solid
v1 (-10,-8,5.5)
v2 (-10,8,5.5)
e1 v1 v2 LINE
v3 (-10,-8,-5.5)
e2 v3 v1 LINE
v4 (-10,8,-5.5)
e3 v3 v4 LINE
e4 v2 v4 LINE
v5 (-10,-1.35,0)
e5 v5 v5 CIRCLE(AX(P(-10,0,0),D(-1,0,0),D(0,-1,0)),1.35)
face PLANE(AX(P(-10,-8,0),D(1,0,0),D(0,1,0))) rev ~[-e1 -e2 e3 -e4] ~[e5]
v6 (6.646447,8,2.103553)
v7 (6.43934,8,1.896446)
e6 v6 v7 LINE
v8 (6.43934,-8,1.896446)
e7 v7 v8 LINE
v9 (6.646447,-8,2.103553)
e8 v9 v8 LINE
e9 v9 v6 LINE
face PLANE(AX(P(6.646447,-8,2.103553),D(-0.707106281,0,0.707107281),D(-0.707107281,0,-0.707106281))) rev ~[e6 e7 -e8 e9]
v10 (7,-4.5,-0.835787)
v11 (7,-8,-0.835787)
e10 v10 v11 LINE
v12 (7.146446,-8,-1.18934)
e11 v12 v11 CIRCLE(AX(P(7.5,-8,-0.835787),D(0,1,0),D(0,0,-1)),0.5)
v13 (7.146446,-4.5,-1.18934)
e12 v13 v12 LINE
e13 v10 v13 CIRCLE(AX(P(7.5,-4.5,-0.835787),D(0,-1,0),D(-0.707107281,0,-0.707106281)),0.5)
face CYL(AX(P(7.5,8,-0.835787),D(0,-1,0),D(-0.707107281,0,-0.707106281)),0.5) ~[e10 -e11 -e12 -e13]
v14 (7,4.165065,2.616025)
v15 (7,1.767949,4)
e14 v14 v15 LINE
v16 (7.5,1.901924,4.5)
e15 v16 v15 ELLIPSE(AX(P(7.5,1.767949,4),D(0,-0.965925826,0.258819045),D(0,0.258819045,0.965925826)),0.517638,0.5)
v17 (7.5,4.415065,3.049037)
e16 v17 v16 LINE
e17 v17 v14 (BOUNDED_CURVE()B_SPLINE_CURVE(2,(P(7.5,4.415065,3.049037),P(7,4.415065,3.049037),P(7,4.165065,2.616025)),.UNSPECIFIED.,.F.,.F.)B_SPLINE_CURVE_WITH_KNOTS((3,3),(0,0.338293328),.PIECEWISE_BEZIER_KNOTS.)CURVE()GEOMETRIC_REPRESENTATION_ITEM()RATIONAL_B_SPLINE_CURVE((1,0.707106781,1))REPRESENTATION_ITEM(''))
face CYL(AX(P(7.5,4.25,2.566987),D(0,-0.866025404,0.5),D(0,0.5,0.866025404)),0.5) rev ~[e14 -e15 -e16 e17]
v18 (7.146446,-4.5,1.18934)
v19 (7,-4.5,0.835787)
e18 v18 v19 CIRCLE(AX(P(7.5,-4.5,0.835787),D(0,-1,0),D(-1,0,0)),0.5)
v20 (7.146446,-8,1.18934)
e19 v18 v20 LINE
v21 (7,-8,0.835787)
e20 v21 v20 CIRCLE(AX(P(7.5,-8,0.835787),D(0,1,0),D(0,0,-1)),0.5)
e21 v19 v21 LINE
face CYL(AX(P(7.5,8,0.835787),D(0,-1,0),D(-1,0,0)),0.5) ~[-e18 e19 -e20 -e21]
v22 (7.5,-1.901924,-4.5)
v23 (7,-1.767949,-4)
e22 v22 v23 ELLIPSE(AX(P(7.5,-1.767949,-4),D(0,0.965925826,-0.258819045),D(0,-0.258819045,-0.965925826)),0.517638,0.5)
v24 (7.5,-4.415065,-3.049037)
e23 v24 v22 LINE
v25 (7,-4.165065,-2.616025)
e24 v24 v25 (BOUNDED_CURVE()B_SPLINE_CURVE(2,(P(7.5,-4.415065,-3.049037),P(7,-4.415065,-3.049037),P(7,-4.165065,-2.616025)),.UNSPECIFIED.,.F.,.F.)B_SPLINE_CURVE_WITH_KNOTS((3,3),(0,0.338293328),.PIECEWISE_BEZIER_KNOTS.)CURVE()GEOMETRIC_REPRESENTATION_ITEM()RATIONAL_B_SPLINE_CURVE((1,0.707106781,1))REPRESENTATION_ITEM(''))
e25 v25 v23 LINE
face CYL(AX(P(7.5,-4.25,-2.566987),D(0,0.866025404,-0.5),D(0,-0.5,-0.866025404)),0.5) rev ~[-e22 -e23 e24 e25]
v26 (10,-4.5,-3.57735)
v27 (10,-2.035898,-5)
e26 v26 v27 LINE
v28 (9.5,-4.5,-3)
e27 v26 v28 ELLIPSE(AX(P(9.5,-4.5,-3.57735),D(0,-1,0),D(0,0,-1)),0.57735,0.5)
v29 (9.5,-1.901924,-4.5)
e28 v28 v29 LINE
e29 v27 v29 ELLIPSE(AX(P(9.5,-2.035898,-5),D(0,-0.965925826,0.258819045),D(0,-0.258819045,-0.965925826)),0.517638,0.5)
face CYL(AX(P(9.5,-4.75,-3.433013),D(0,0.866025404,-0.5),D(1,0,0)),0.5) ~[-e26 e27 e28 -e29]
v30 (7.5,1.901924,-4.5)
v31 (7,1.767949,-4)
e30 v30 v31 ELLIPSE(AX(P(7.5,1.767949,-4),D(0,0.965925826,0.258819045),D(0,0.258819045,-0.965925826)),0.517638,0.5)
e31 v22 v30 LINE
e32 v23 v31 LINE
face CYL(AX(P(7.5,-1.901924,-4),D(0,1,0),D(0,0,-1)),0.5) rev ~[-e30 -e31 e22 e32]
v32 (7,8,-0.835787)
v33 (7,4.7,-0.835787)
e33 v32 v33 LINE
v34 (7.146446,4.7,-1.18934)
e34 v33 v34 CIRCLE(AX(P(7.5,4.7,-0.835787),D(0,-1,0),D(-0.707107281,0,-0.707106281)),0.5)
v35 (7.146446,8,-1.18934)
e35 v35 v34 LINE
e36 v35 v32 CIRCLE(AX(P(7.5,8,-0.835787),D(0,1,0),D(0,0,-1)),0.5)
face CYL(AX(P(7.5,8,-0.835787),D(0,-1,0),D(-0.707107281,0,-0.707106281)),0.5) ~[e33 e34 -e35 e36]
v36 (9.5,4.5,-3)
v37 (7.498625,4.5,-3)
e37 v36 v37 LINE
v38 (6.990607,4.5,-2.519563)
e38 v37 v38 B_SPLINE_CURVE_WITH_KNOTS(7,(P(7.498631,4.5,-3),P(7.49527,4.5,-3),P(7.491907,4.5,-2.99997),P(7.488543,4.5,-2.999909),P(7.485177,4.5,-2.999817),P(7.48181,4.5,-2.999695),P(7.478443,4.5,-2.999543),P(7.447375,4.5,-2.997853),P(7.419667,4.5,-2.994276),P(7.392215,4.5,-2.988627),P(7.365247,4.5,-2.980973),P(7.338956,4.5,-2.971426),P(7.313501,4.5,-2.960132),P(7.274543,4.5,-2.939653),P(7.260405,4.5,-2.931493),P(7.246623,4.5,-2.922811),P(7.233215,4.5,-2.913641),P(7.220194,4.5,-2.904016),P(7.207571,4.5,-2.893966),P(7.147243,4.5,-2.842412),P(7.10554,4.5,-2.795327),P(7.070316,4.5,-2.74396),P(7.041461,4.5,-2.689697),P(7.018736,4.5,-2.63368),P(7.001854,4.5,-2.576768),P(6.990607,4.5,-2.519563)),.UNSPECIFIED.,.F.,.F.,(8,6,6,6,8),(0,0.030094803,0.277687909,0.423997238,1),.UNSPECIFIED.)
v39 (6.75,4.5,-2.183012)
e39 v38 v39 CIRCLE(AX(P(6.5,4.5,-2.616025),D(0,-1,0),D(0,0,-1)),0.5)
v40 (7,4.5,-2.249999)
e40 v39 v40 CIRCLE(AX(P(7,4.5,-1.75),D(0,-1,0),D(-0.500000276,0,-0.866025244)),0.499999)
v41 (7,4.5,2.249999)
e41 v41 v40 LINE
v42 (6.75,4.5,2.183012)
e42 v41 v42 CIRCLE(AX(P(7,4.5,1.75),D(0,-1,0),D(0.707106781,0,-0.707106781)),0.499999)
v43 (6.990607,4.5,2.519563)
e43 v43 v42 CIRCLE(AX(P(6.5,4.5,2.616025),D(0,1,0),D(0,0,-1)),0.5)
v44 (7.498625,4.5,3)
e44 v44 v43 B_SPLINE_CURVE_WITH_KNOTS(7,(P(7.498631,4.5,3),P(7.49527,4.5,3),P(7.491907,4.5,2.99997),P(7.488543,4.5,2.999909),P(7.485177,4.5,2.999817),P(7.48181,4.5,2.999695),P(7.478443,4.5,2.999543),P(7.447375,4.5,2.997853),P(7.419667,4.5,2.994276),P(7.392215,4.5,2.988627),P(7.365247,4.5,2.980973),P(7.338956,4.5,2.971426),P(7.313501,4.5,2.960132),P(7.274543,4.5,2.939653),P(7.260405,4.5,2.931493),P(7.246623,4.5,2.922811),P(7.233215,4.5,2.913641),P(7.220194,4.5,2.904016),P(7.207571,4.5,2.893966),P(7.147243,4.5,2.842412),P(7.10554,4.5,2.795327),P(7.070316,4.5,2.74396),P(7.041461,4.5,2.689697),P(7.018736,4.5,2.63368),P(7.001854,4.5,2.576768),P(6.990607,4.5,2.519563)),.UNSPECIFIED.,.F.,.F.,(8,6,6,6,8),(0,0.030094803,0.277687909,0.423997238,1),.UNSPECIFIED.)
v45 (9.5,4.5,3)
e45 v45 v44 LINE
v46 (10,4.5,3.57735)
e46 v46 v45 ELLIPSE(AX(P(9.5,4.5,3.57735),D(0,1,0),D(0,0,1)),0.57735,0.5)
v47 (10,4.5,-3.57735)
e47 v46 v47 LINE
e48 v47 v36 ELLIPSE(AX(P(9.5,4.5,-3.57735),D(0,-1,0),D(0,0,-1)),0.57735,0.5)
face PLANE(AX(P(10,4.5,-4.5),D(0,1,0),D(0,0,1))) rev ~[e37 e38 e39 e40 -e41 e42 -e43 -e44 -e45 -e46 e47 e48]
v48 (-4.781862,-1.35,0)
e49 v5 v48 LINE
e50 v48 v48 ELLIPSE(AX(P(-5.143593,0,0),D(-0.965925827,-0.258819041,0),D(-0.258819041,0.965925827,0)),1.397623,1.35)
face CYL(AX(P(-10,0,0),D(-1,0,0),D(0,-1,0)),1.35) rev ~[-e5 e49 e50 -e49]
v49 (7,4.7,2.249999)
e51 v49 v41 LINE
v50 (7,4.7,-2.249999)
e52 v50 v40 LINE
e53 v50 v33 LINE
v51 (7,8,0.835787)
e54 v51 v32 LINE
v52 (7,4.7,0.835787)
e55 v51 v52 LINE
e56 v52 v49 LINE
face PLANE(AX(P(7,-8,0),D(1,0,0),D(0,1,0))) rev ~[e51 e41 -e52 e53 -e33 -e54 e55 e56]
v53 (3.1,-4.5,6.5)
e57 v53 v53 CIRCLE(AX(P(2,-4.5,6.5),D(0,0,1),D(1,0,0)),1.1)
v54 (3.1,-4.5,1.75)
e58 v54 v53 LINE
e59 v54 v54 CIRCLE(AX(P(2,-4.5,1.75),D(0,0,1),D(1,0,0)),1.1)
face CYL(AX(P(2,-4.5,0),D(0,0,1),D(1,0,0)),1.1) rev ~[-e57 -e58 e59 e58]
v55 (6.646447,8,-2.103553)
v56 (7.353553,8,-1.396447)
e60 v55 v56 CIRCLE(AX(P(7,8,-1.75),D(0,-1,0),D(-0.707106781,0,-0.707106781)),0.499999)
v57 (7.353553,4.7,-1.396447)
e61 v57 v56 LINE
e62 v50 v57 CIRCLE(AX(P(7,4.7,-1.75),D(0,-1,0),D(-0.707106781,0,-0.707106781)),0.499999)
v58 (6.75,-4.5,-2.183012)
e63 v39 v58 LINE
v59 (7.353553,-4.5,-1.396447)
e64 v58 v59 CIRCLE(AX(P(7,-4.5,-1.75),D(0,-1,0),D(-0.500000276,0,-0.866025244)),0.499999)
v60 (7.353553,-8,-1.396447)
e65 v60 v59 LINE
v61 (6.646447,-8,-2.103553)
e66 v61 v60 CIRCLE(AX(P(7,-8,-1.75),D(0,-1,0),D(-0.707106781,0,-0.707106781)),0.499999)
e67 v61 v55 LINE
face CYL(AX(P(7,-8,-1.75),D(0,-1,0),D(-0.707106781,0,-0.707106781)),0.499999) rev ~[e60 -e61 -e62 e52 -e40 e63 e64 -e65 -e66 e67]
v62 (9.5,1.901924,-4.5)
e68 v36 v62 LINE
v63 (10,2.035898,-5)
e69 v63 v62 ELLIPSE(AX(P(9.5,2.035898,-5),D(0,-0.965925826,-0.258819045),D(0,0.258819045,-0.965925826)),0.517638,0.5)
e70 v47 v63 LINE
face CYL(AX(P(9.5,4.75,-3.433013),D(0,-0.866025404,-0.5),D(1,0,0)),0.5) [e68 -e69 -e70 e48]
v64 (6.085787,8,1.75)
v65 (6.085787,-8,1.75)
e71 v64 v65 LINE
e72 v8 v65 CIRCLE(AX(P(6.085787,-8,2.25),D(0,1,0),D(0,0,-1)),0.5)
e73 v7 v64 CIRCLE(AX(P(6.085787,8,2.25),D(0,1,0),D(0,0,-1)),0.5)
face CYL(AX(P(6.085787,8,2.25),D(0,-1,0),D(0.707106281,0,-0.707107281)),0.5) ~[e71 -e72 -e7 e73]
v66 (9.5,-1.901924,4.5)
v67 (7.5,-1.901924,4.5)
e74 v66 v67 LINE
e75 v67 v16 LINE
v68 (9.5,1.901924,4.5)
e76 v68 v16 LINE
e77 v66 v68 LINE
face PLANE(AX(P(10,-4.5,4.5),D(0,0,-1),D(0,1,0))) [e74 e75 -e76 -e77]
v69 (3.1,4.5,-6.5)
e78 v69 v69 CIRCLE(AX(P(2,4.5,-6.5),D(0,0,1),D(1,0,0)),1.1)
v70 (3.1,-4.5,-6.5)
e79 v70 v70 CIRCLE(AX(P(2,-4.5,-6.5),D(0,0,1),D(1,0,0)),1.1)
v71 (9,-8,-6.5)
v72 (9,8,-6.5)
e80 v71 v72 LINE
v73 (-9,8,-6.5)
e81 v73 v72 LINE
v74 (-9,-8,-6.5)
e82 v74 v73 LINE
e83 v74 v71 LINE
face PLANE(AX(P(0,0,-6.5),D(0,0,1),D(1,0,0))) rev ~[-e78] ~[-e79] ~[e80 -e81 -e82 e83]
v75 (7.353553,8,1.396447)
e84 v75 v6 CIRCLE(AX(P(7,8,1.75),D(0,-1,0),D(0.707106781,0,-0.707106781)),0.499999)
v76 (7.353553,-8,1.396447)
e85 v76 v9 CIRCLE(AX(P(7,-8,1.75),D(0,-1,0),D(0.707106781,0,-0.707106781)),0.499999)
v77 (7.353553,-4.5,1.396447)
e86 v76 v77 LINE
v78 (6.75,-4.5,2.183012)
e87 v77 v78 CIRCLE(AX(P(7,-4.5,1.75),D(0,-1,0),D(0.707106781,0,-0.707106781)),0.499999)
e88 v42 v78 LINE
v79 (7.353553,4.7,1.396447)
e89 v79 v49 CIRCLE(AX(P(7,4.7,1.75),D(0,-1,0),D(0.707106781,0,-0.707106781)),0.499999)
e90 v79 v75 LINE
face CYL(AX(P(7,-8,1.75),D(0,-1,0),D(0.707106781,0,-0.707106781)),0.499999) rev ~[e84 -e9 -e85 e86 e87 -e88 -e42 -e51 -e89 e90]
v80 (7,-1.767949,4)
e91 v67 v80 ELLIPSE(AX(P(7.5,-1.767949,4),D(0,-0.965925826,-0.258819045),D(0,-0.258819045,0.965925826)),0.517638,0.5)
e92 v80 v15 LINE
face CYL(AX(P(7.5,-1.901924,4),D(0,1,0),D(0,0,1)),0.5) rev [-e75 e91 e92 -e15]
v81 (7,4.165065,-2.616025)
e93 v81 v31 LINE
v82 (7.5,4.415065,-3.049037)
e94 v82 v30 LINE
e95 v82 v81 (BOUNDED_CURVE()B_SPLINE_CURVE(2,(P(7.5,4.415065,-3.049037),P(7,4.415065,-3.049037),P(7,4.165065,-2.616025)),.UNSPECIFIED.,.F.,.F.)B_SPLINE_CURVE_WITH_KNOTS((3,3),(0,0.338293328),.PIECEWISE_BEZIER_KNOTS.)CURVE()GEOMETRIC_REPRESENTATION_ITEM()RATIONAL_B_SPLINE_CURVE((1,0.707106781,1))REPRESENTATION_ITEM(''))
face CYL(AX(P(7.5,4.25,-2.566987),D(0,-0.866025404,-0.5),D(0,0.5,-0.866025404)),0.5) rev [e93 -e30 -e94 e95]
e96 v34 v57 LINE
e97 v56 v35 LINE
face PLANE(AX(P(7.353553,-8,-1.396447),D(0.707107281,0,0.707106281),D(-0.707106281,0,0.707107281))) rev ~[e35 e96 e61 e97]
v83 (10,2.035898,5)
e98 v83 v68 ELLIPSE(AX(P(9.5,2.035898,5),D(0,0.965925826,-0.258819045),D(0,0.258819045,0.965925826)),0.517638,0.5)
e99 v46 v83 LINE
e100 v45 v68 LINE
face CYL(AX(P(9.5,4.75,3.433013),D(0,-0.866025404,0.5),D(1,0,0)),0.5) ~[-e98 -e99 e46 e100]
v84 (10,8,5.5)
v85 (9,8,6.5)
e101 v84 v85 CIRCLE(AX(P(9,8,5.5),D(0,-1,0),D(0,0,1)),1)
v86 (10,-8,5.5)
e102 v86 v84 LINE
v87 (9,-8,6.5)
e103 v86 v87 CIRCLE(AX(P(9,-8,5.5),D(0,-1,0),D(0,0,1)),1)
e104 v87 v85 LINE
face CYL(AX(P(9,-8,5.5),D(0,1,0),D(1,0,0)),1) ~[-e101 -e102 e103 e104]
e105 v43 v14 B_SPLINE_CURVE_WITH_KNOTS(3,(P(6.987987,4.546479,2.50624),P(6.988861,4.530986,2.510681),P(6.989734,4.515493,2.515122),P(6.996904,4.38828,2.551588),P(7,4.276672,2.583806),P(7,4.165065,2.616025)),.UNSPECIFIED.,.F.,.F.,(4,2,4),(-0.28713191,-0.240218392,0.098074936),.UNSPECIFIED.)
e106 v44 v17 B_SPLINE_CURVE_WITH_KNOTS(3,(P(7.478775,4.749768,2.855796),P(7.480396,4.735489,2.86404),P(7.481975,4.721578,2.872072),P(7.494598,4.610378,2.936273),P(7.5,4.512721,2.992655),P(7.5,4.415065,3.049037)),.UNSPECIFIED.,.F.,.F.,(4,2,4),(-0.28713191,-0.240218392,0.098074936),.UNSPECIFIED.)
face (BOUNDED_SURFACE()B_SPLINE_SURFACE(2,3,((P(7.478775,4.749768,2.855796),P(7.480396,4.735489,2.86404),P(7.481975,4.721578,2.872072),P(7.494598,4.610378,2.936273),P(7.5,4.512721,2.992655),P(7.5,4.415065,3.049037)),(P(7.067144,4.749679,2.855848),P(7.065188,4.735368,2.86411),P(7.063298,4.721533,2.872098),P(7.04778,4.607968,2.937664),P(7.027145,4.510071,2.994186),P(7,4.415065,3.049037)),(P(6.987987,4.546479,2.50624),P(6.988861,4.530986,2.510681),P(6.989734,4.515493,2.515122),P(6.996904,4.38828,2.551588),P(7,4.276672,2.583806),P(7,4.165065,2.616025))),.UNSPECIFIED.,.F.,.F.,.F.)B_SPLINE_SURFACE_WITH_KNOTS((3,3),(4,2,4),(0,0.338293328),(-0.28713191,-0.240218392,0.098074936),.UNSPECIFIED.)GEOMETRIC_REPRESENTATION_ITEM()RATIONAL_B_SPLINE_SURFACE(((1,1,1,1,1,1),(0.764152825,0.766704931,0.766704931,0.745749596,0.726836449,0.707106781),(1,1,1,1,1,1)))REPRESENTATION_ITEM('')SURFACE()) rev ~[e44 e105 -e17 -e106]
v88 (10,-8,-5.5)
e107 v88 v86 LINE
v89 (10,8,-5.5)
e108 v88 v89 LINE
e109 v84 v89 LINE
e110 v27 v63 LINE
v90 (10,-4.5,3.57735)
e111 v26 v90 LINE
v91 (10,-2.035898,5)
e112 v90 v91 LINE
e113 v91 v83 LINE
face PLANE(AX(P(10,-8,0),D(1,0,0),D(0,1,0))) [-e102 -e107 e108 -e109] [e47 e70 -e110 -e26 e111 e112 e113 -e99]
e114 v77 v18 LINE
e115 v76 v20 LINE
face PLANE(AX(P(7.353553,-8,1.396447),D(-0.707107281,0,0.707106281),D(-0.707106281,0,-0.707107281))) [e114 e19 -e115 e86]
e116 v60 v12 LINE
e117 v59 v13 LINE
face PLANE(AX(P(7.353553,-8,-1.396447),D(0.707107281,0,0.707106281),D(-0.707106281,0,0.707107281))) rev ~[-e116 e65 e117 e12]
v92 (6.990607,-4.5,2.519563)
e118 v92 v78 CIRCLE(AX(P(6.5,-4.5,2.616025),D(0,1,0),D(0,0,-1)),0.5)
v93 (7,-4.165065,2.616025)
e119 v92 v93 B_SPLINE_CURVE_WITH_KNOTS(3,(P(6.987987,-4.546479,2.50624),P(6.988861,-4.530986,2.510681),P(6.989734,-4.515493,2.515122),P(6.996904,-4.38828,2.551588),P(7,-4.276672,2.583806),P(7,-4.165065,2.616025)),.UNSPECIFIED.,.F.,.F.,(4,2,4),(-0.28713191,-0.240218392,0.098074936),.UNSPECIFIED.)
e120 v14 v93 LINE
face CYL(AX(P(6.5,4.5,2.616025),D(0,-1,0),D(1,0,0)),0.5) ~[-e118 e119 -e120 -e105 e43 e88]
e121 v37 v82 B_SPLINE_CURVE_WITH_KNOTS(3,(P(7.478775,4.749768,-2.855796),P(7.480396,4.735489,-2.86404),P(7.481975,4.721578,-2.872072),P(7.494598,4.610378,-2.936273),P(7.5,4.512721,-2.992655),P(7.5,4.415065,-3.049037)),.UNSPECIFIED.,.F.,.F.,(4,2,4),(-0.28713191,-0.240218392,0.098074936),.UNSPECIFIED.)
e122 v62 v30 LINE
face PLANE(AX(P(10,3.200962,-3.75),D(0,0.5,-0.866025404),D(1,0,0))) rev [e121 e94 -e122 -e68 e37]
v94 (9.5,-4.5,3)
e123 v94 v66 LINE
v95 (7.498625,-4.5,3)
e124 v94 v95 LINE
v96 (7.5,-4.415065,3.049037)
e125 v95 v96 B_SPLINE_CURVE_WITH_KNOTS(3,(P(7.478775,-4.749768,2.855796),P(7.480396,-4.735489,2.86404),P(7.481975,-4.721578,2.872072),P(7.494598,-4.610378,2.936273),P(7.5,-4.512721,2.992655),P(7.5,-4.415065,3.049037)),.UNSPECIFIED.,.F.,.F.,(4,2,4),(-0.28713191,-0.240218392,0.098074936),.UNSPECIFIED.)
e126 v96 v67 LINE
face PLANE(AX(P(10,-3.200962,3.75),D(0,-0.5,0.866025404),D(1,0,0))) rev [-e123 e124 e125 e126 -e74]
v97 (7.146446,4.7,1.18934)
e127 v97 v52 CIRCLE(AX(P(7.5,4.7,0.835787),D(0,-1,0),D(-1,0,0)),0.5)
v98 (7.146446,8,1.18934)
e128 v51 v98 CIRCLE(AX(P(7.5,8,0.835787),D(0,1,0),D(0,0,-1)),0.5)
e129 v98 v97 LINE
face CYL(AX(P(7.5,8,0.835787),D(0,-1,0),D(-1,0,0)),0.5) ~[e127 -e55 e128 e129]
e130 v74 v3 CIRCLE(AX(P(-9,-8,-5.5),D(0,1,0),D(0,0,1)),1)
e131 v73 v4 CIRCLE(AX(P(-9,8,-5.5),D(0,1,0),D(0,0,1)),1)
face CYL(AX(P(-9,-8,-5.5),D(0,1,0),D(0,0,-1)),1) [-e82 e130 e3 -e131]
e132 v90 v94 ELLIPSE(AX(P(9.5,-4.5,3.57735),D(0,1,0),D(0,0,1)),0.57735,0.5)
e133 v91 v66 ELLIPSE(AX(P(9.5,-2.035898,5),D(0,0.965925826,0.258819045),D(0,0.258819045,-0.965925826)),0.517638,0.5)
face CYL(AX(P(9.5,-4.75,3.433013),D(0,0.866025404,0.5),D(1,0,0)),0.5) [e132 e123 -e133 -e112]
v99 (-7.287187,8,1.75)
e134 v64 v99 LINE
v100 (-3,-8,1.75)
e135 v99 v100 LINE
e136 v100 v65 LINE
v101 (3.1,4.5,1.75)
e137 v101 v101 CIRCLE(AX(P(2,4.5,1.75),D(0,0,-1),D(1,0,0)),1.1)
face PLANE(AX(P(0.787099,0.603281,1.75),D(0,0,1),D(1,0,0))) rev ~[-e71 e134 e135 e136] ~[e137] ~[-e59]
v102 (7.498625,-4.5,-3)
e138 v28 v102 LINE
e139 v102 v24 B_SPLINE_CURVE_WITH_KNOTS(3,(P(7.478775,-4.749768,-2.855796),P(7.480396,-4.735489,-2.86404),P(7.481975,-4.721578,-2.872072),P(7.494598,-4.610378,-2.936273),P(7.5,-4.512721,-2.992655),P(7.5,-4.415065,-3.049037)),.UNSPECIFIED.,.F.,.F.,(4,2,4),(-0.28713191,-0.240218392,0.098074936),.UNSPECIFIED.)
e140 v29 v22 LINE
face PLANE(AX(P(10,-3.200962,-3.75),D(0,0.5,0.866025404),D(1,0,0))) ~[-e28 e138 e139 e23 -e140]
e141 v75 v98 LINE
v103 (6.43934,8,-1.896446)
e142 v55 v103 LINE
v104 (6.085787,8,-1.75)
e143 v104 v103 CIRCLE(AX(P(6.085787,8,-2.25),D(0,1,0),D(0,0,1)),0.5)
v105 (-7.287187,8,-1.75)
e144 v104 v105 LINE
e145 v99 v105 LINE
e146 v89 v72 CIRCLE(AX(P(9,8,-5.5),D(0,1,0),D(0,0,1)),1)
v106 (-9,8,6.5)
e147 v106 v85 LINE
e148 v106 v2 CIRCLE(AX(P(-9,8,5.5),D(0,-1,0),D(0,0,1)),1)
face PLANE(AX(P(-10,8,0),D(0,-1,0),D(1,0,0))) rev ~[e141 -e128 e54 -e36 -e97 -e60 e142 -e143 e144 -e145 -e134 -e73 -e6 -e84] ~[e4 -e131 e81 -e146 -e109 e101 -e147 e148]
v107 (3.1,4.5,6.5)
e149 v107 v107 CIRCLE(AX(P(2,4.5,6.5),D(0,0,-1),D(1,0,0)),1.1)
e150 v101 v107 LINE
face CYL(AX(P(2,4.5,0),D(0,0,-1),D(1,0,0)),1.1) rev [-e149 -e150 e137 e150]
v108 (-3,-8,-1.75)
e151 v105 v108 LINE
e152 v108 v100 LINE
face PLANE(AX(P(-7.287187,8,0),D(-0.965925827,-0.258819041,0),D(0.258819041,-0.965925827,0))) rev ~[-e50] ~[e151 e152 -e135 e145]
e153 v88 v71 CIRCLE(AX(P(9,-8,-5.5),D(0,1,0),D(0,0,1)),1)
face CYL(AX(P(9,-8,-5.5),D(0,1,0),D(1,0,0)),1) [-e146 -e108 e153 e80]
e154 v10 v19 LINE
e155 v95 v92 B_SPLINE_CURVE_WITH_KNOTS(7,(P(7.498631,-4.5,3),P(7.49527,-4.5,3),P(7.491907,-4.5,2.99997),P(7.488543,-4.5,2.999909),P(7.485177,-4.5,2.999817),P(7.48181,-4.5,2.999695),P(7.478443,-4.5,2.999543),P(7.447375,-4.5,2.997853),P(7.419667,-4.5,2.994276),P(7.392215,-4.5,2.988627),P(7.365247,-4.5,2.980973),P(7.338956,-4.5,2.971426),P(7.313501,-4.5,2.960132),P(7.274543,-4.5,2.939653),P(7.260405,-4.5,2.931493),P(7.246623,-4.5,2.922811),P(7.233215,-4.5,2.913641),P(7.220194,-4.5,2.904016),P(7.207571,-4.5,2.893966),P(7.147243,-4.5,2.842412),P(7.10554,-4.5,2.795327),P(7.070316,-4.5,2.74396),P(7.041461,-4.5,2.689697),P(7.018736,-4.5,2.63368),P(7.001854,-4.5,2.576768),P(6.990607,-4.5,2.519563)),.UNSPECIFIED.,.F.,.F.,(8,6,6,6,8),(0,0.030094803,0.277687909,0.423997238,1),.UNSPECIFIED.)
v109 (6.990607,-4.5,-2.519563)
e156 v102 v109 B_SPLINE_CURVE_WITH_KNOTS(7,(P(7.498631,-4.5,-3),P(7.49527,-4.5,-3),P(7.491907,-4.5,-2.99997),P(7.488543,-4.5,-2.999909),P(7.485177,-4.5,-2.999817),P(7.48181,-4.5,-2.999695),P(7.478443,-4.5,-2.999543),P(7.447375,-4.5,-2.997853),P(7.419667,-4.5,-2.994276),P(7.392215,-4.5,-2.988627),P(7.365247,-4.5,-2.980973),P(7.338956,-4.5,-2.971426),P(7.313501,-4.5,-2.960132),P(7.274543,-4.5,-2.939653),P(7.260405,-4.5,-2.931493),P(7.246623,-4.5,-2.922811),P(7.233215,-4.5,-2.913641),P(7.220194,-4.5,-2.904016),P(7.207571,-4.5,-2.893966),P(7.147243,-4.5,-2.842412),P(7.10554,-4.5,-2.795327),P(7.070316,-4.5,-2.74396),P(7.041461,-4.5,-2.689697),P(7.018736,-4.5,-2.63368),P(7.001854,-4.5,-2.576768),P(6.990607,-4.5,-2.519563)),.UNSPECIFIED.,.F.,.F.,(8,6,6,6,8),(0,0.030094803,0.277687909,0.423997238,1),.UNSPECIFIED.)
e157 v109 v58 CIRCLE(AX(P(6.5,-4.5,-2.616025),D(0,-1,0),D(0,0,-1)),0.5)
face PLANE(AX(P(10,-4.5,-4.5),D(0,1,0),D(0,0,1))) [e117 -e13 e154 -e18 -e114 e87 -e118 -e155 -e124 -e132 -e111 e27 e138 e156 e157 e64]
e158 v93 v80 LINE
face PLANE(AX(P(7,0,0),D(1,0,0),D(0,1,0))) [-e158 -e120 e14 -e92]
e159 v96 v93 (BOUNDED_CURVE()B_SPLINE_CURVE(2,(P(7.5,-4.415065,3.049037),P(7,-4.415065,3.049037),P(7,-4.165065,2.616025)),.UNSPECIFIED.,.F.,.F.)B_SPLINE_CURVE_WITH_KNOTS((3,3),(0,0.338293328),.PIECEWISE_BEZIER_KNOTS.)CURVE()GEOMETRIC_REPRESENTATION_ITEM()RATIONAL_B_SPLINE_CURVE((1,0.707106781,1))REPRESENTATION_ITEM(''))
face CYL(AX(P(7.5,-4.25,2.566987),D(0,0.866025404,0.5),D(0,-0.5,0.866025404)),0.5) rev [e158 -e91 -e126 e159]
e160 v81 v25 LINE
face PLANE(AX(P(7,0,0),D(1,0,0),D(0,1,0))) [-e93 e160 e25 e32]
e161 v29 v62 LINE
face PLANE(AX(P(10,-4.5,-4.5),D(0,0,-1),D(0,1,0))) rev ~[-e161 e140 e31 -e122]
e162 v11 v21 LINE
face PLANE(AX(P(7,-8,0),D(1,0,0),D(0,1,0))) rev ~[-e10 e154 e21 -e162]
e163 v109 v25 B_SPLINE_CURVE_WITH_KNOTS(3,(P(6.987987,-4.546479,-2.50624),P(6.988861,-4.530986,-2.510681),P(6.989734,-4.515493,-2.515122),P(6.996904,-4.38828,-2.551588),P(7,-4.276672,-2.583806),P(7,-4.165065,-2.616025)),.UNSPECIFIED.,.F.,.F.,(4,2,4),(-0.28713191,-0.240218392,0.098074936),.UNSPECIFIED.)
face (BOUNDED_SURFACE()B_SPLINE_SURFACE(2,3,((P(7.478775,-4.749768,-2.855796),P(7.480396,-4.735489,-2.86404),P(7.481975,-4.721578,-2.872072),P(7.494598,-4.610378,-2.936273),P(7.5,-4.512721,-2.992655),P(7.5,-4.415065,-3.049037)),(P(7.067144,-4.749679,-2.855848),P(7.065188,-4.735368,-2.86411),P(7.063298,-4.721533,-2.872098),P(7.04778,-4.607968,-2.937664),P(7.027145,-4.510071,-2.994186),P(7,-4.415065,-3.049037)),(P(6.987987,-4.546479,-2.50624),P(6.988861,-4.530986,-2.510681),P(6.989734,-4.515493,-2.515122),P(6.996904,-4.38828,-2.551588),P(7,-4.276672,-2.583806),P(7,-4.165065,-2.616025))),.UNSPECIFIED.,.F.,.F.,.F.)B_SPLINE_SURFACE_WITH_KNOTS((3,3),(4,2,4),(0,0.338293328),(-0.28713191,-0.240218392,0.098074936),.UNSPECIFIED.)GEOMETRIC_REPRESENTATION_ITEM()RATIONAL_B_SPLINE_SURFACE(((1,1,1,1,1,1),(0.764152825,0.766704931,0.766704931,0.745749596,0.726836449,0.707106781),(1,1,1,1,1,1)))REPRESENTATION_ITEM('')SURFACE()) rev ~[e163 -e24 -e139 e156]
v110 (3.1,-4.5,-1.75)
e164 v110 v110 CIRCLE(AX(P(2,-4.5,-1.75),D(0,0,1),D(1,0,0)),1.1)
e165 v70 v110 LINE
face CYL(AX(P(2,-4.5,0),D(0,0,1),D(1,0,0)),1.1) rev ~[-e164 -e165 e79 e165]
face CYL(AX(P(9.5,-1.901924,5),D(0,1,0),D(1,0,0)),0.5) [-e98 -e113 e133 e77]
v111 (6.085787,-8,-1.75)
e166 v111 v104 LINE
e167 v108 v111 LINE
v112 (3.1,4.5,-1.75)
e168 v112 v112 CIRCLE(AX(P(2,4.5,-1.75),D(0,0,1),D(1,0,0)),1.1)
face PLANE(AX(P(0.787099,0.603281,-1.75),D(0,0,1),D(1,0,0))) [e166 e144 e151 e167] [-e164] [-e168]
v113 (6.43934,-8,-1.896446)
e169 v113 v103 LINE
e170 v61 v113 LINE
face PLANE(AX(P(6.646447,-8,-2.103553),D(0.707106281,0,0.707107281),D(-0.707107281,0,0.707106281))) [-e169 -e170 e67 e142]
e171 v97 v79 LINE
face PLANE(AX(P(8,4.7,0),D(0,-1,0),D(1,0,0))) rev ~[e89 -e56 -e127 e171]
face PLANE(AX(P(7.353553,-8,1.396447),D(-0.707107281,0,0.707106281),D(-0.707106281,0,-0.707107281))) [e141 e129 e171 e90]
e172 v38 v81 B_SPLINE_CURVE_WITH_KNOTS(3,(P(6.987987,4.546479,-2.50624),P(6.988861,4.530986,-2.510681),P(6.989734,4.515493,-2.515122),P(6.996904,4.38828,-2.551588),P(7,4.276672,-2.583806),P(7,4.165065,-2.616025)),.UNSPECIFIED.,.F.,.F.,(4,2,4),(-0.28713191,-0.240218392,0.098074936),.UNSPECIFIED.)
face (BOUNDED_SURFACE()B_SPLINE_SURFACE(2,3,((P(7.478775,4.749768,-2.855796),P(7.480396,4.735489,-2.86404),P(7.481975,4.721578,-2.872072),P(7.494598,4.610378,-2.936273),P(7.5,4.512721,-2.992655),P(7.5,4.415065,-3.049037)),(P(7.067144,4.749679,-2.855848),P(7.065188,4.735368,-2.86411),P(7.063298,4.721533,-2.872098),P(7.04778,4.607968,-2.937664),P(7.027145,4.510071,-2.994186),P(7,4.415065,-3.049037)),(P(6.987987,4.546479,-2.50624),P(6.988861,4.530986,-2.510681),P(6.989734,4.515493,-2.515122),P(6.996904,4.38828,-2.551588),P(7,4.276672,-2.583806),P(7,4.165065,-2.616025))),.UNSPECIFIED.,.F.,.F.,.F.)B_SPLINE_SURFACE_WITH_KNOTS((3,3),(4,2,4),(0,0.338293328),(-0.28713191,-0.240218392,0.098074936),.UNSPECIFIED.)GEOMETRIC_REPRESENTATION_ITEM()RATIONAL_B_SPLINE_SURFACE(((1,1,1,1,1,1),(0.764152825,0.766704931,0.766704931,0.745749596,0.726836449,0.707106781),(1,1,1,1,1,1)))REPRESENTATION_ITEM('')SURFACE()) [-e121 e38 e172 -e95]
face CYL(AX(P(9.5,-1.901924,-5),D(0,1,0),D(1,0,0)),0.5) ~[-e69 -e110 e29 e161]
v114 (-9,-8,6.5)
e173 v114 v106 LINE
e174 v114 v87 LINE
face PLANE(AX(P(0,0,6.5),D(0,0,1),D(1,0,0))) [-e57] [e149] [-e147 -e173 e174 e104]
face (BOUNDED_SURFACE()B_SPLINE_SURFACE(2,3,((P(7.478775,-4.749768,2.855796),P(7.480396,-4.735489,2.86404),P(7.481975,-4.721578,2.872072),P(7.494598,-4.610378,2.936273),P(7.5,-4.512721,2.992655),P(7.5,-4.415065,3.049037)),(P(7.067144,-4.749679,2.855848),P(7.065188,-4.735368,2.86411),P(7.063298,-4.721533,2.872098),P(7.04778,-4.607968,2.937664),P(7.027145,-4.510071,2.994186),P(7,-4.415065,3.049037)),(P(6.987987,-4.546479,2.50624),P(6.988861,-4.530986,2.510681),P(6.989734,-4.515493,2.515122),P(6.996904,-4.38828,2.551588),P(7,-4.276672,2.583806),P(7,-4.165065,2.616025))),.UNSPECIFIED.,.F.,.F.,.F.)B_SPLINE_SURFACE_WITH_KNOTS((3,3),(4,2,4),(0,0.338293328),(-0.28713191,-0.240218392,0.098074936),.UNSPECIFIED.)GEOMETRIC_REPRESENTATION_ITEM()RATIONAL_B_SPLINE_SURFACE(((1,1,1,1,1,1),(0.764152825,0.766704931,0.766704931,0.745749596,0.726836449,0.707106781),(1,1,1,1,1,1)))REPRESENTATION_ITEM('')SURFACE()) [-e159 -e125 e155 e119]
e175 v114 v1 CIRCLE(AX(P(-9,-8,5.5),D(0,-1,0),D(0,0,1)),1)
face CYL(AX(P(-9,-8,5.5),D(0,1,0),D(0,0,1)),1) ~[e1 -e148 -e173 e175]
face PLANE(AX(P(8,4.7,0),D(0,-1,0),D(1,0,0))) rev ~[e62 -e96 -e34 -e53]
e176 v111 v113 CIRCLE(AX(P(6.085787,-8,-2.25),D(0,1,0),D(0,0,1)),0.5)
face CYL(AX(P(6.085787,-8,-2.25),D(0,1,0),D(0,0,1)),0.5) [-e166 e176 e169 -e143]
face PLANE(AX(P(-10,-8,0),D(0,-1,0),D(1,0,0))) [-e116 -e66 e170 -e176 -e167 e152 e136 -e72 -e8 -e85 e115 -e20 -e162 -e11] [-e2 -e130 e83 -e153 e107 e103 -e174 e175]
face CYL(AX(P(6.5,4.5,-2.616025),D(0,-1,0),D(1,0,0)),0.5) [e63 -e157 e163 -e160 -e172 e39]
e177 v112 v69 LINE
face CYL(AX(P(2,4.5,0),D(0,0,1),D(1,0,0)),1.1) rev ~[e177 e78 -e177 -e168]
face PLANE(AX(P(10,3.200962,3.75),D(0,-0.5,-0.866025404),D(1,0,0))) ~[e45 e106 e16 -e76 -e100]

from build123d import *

# Parameters (mm, degrees)
SKETCH_W        = 20
SKETCH_H        = 16
PAD_DEPTH       = 6.5
POCKET_DEPTH    = 1.75
POCKET002_DEPTH = 16.001
FILLET_R        = 0.5
SKETCH004_R     = 1.1
POCKET003_DEPTH = 8
SKETCH005_R     = 1.35
POCKET004_DEPTH = 7
SKETCH006_W     = 9
SKETCH006_H     = 9
POCKET005_DEPTH = 3
CHAMFER_1_ANGLE = 60
CHAMFER_1_SIZE  = 1.5
CHAMFER_2_ANGLE = 60
CHAMFER_2_SIZE  = 1.5
FILLET001_R     = 0.5
FILLET002_R     = 0.5
FILLET003_R     = 1
FILLET004_R     = 0.5
SKETCH007_W     = 2
SKETCH007_H     = 5
PAD001_DEPTH    = 0.2


with BuildPart() as part:
    # Sketch (on XY_Plane of Origin) → Pad (new body, symmetric)
    with BuildSketch(Plane.XY):
        Rectangle(SKETCH_W, SKETCH_H)
    extrude(amount=PAD_DEPTH, both=True)

    # Sketch001 → Pocket (cut, symmetric)
    with BuildSketch(Plane.XY):
        Polygon((-7.287187, 8), (-3, -8), (7, -8), (7, 8), align=None)
    extrude(amount=POCKET_DEPTH, both=True, mode=Mode.SUBTRACT)

    # Sketch003 (on Face1 of Pocket) → Pocket002 (cut, through all)
    with BuildSketch(Plane.XZ.offset(8)):
        with BuildLine():
            ThreePointArc((6.646447, -2.103553), (7.353553, -2.103553), (7.353553, -1.396447))
            Line((7.353553, -1.396447), (6.646447, -0.68934))
            ThreePointArc((6.646447, -0.68934), (5.93934, -0.68934), (5.93934, -1.396447))
            Line((6.646447, -2.103553), (5.93934, -1.396447))
        make_face()
        with BuildLine():
            ThreePointArc((7.353553, 1.396447), (7.353553, 2.103553), (6.646447, 2.103553))
            Line((6.646447, 2.103553), (5.93934, 1.396447))
            ThreePointArc((5.93934, 1.396447), (5.93934, 0.68934), (6.646447, 0.68934))
            Line((7.353553, 1.396447), (6.646447, 0.68934))
        make_face()
    extrude(amount=-POCKET002_DEPTH, mode=Mode.SUBTRACT)

    # Fillet
    fillet_edges = [part.edges().sort_by_distance(p)[0] for p in [
        (6.292893, 0, -1.75),
        (6.292893, 0, 1.75),
        (7, 0, -1.042893),
        (7, 0, 1.042893),
    ]]
    fillet(fillet_edges, radius=FILLET_R)

    # Sketch004 (on XY_Plane of Origin) → Pocket003 (cut, symmetric)
    with BuildSketch(Plane.XY):
        with Locations((2, 4.5)):
            Circle(SKETCH004_R)
        with Locations((2, -4.5)):
            Circle(SKETCH004_R)
    extrude(amount=POCKET003_DEPTH, both=True, mode=Mode.SUBTRACT)

    # Sketch005 (on Face16 of Pocket003) → Pocket004 (cut)
    with BuildSketch(Plane(origin=(-10, 0, 0), x_dir=(0, -1, 0), z_dir=(-1, 0, 0))):
        Circle(SKETCH005_R)
    extrude(amount=-POCKET004_DEPTH, mode=Mode.SUBTRACT)

    # Sketch006 (on Face19 of Pocket004) → Pocket005 (cut)
    with BuildSketch(Plane.YZ.offset(10)):
        Rectangle(SKETCH006_W, SKETCH006_H)
    extrude(amount=-POCKET005_DEPTH, mode=Mode.SUBTRACT)

    # Chamfer 1
    chamfer_1_edges = [part.edges().sort_by_distance(p)[0] for p in [
        (8.5, 4.5, -4.5),
        (8.5, 4.5, 4.5),
    ]]
    chamfer_1_side = part.faces().sort_by_distance((8.542167, 4.5, 0))[0]
    chamfer(chamfer_1_edges, length=CHAMFER_1_SIZE, angle=CHAMFER_1_ANGLE, reference=chamfer_1_side)

    # Chamfer 2
    chamfer_2_edges = [part.edges().sort_by_distance(p)[0] for p in [
        (8.5, -4.5, -4.5),
        (8.5, -4.5, 4.5),
    ]]
    chamfer_2_side = part.faces().sort_by_distance((8.542167, -4.5, 0))[0]
    chamfer(chamfer_2_edges, length=CHAMFER_2_SIZE, angle=CHAMFER_2_ANGLE, reference=chamfer_2_side)

    # Fillet001
    fillet001_edges = [part.edges().sort_by_distance(p)[0] for p in [
        (7, 0, 2.25),
        (7, 0, -2.25),
    ]]
    fillet(fillet001_edges, radius=FILLET001_R)

    # Fillet002
    fillet002_edges = [part.edges().sort_by_distance(p)[0] for p in [
        (7, -3.200962, -3.75),
        (7, 0, -4.5),
        (7, 3.200962, -3.75),
        (7, -3.200962, 3.75),
        (7, 0, 4.5),
        (7, 3.200962, 3.75),
    ]]
    fillet(fillet002_edges, radius=FILLET002_R)

    # Fillet003
    fillet003_edges = [part.edges().sort_by_distance(p)[0] for p in [
        (10, 0, 6.5),
        (-10, 0, 6.5),
        (-10, 0, -6.5),
        (10, 0, -6.5),
    ]]
    fillet(fillet003_edges, radius=FILLET003_R)

    # Fillet004
    fillet004_edges = [part.edges().sort_by_distance(p)[0] for p in [
        (10, -3.200962, -3.75),
        (10, 0, -4.5),
        (10, 3.200962, -3.75),
        (10, 3.200962, 3.75),
        (10, 0, 4.5),
        (10, -3.200962, 3.75),
    ]]
    fillet(fillet004_edges, radius=FILLET004_R)

    # Sketch007 (on Face8 of Fillet004) → Pad001 (join)
    with BuildSketch(Plane.XZ.offset(-4.5)):
        with Locations((8, 0)):
            Rectangle(SKETCH007_W, SKETCH007_H)
    extrude(amount=-PAD001_DEPTH)


solid = part.part
